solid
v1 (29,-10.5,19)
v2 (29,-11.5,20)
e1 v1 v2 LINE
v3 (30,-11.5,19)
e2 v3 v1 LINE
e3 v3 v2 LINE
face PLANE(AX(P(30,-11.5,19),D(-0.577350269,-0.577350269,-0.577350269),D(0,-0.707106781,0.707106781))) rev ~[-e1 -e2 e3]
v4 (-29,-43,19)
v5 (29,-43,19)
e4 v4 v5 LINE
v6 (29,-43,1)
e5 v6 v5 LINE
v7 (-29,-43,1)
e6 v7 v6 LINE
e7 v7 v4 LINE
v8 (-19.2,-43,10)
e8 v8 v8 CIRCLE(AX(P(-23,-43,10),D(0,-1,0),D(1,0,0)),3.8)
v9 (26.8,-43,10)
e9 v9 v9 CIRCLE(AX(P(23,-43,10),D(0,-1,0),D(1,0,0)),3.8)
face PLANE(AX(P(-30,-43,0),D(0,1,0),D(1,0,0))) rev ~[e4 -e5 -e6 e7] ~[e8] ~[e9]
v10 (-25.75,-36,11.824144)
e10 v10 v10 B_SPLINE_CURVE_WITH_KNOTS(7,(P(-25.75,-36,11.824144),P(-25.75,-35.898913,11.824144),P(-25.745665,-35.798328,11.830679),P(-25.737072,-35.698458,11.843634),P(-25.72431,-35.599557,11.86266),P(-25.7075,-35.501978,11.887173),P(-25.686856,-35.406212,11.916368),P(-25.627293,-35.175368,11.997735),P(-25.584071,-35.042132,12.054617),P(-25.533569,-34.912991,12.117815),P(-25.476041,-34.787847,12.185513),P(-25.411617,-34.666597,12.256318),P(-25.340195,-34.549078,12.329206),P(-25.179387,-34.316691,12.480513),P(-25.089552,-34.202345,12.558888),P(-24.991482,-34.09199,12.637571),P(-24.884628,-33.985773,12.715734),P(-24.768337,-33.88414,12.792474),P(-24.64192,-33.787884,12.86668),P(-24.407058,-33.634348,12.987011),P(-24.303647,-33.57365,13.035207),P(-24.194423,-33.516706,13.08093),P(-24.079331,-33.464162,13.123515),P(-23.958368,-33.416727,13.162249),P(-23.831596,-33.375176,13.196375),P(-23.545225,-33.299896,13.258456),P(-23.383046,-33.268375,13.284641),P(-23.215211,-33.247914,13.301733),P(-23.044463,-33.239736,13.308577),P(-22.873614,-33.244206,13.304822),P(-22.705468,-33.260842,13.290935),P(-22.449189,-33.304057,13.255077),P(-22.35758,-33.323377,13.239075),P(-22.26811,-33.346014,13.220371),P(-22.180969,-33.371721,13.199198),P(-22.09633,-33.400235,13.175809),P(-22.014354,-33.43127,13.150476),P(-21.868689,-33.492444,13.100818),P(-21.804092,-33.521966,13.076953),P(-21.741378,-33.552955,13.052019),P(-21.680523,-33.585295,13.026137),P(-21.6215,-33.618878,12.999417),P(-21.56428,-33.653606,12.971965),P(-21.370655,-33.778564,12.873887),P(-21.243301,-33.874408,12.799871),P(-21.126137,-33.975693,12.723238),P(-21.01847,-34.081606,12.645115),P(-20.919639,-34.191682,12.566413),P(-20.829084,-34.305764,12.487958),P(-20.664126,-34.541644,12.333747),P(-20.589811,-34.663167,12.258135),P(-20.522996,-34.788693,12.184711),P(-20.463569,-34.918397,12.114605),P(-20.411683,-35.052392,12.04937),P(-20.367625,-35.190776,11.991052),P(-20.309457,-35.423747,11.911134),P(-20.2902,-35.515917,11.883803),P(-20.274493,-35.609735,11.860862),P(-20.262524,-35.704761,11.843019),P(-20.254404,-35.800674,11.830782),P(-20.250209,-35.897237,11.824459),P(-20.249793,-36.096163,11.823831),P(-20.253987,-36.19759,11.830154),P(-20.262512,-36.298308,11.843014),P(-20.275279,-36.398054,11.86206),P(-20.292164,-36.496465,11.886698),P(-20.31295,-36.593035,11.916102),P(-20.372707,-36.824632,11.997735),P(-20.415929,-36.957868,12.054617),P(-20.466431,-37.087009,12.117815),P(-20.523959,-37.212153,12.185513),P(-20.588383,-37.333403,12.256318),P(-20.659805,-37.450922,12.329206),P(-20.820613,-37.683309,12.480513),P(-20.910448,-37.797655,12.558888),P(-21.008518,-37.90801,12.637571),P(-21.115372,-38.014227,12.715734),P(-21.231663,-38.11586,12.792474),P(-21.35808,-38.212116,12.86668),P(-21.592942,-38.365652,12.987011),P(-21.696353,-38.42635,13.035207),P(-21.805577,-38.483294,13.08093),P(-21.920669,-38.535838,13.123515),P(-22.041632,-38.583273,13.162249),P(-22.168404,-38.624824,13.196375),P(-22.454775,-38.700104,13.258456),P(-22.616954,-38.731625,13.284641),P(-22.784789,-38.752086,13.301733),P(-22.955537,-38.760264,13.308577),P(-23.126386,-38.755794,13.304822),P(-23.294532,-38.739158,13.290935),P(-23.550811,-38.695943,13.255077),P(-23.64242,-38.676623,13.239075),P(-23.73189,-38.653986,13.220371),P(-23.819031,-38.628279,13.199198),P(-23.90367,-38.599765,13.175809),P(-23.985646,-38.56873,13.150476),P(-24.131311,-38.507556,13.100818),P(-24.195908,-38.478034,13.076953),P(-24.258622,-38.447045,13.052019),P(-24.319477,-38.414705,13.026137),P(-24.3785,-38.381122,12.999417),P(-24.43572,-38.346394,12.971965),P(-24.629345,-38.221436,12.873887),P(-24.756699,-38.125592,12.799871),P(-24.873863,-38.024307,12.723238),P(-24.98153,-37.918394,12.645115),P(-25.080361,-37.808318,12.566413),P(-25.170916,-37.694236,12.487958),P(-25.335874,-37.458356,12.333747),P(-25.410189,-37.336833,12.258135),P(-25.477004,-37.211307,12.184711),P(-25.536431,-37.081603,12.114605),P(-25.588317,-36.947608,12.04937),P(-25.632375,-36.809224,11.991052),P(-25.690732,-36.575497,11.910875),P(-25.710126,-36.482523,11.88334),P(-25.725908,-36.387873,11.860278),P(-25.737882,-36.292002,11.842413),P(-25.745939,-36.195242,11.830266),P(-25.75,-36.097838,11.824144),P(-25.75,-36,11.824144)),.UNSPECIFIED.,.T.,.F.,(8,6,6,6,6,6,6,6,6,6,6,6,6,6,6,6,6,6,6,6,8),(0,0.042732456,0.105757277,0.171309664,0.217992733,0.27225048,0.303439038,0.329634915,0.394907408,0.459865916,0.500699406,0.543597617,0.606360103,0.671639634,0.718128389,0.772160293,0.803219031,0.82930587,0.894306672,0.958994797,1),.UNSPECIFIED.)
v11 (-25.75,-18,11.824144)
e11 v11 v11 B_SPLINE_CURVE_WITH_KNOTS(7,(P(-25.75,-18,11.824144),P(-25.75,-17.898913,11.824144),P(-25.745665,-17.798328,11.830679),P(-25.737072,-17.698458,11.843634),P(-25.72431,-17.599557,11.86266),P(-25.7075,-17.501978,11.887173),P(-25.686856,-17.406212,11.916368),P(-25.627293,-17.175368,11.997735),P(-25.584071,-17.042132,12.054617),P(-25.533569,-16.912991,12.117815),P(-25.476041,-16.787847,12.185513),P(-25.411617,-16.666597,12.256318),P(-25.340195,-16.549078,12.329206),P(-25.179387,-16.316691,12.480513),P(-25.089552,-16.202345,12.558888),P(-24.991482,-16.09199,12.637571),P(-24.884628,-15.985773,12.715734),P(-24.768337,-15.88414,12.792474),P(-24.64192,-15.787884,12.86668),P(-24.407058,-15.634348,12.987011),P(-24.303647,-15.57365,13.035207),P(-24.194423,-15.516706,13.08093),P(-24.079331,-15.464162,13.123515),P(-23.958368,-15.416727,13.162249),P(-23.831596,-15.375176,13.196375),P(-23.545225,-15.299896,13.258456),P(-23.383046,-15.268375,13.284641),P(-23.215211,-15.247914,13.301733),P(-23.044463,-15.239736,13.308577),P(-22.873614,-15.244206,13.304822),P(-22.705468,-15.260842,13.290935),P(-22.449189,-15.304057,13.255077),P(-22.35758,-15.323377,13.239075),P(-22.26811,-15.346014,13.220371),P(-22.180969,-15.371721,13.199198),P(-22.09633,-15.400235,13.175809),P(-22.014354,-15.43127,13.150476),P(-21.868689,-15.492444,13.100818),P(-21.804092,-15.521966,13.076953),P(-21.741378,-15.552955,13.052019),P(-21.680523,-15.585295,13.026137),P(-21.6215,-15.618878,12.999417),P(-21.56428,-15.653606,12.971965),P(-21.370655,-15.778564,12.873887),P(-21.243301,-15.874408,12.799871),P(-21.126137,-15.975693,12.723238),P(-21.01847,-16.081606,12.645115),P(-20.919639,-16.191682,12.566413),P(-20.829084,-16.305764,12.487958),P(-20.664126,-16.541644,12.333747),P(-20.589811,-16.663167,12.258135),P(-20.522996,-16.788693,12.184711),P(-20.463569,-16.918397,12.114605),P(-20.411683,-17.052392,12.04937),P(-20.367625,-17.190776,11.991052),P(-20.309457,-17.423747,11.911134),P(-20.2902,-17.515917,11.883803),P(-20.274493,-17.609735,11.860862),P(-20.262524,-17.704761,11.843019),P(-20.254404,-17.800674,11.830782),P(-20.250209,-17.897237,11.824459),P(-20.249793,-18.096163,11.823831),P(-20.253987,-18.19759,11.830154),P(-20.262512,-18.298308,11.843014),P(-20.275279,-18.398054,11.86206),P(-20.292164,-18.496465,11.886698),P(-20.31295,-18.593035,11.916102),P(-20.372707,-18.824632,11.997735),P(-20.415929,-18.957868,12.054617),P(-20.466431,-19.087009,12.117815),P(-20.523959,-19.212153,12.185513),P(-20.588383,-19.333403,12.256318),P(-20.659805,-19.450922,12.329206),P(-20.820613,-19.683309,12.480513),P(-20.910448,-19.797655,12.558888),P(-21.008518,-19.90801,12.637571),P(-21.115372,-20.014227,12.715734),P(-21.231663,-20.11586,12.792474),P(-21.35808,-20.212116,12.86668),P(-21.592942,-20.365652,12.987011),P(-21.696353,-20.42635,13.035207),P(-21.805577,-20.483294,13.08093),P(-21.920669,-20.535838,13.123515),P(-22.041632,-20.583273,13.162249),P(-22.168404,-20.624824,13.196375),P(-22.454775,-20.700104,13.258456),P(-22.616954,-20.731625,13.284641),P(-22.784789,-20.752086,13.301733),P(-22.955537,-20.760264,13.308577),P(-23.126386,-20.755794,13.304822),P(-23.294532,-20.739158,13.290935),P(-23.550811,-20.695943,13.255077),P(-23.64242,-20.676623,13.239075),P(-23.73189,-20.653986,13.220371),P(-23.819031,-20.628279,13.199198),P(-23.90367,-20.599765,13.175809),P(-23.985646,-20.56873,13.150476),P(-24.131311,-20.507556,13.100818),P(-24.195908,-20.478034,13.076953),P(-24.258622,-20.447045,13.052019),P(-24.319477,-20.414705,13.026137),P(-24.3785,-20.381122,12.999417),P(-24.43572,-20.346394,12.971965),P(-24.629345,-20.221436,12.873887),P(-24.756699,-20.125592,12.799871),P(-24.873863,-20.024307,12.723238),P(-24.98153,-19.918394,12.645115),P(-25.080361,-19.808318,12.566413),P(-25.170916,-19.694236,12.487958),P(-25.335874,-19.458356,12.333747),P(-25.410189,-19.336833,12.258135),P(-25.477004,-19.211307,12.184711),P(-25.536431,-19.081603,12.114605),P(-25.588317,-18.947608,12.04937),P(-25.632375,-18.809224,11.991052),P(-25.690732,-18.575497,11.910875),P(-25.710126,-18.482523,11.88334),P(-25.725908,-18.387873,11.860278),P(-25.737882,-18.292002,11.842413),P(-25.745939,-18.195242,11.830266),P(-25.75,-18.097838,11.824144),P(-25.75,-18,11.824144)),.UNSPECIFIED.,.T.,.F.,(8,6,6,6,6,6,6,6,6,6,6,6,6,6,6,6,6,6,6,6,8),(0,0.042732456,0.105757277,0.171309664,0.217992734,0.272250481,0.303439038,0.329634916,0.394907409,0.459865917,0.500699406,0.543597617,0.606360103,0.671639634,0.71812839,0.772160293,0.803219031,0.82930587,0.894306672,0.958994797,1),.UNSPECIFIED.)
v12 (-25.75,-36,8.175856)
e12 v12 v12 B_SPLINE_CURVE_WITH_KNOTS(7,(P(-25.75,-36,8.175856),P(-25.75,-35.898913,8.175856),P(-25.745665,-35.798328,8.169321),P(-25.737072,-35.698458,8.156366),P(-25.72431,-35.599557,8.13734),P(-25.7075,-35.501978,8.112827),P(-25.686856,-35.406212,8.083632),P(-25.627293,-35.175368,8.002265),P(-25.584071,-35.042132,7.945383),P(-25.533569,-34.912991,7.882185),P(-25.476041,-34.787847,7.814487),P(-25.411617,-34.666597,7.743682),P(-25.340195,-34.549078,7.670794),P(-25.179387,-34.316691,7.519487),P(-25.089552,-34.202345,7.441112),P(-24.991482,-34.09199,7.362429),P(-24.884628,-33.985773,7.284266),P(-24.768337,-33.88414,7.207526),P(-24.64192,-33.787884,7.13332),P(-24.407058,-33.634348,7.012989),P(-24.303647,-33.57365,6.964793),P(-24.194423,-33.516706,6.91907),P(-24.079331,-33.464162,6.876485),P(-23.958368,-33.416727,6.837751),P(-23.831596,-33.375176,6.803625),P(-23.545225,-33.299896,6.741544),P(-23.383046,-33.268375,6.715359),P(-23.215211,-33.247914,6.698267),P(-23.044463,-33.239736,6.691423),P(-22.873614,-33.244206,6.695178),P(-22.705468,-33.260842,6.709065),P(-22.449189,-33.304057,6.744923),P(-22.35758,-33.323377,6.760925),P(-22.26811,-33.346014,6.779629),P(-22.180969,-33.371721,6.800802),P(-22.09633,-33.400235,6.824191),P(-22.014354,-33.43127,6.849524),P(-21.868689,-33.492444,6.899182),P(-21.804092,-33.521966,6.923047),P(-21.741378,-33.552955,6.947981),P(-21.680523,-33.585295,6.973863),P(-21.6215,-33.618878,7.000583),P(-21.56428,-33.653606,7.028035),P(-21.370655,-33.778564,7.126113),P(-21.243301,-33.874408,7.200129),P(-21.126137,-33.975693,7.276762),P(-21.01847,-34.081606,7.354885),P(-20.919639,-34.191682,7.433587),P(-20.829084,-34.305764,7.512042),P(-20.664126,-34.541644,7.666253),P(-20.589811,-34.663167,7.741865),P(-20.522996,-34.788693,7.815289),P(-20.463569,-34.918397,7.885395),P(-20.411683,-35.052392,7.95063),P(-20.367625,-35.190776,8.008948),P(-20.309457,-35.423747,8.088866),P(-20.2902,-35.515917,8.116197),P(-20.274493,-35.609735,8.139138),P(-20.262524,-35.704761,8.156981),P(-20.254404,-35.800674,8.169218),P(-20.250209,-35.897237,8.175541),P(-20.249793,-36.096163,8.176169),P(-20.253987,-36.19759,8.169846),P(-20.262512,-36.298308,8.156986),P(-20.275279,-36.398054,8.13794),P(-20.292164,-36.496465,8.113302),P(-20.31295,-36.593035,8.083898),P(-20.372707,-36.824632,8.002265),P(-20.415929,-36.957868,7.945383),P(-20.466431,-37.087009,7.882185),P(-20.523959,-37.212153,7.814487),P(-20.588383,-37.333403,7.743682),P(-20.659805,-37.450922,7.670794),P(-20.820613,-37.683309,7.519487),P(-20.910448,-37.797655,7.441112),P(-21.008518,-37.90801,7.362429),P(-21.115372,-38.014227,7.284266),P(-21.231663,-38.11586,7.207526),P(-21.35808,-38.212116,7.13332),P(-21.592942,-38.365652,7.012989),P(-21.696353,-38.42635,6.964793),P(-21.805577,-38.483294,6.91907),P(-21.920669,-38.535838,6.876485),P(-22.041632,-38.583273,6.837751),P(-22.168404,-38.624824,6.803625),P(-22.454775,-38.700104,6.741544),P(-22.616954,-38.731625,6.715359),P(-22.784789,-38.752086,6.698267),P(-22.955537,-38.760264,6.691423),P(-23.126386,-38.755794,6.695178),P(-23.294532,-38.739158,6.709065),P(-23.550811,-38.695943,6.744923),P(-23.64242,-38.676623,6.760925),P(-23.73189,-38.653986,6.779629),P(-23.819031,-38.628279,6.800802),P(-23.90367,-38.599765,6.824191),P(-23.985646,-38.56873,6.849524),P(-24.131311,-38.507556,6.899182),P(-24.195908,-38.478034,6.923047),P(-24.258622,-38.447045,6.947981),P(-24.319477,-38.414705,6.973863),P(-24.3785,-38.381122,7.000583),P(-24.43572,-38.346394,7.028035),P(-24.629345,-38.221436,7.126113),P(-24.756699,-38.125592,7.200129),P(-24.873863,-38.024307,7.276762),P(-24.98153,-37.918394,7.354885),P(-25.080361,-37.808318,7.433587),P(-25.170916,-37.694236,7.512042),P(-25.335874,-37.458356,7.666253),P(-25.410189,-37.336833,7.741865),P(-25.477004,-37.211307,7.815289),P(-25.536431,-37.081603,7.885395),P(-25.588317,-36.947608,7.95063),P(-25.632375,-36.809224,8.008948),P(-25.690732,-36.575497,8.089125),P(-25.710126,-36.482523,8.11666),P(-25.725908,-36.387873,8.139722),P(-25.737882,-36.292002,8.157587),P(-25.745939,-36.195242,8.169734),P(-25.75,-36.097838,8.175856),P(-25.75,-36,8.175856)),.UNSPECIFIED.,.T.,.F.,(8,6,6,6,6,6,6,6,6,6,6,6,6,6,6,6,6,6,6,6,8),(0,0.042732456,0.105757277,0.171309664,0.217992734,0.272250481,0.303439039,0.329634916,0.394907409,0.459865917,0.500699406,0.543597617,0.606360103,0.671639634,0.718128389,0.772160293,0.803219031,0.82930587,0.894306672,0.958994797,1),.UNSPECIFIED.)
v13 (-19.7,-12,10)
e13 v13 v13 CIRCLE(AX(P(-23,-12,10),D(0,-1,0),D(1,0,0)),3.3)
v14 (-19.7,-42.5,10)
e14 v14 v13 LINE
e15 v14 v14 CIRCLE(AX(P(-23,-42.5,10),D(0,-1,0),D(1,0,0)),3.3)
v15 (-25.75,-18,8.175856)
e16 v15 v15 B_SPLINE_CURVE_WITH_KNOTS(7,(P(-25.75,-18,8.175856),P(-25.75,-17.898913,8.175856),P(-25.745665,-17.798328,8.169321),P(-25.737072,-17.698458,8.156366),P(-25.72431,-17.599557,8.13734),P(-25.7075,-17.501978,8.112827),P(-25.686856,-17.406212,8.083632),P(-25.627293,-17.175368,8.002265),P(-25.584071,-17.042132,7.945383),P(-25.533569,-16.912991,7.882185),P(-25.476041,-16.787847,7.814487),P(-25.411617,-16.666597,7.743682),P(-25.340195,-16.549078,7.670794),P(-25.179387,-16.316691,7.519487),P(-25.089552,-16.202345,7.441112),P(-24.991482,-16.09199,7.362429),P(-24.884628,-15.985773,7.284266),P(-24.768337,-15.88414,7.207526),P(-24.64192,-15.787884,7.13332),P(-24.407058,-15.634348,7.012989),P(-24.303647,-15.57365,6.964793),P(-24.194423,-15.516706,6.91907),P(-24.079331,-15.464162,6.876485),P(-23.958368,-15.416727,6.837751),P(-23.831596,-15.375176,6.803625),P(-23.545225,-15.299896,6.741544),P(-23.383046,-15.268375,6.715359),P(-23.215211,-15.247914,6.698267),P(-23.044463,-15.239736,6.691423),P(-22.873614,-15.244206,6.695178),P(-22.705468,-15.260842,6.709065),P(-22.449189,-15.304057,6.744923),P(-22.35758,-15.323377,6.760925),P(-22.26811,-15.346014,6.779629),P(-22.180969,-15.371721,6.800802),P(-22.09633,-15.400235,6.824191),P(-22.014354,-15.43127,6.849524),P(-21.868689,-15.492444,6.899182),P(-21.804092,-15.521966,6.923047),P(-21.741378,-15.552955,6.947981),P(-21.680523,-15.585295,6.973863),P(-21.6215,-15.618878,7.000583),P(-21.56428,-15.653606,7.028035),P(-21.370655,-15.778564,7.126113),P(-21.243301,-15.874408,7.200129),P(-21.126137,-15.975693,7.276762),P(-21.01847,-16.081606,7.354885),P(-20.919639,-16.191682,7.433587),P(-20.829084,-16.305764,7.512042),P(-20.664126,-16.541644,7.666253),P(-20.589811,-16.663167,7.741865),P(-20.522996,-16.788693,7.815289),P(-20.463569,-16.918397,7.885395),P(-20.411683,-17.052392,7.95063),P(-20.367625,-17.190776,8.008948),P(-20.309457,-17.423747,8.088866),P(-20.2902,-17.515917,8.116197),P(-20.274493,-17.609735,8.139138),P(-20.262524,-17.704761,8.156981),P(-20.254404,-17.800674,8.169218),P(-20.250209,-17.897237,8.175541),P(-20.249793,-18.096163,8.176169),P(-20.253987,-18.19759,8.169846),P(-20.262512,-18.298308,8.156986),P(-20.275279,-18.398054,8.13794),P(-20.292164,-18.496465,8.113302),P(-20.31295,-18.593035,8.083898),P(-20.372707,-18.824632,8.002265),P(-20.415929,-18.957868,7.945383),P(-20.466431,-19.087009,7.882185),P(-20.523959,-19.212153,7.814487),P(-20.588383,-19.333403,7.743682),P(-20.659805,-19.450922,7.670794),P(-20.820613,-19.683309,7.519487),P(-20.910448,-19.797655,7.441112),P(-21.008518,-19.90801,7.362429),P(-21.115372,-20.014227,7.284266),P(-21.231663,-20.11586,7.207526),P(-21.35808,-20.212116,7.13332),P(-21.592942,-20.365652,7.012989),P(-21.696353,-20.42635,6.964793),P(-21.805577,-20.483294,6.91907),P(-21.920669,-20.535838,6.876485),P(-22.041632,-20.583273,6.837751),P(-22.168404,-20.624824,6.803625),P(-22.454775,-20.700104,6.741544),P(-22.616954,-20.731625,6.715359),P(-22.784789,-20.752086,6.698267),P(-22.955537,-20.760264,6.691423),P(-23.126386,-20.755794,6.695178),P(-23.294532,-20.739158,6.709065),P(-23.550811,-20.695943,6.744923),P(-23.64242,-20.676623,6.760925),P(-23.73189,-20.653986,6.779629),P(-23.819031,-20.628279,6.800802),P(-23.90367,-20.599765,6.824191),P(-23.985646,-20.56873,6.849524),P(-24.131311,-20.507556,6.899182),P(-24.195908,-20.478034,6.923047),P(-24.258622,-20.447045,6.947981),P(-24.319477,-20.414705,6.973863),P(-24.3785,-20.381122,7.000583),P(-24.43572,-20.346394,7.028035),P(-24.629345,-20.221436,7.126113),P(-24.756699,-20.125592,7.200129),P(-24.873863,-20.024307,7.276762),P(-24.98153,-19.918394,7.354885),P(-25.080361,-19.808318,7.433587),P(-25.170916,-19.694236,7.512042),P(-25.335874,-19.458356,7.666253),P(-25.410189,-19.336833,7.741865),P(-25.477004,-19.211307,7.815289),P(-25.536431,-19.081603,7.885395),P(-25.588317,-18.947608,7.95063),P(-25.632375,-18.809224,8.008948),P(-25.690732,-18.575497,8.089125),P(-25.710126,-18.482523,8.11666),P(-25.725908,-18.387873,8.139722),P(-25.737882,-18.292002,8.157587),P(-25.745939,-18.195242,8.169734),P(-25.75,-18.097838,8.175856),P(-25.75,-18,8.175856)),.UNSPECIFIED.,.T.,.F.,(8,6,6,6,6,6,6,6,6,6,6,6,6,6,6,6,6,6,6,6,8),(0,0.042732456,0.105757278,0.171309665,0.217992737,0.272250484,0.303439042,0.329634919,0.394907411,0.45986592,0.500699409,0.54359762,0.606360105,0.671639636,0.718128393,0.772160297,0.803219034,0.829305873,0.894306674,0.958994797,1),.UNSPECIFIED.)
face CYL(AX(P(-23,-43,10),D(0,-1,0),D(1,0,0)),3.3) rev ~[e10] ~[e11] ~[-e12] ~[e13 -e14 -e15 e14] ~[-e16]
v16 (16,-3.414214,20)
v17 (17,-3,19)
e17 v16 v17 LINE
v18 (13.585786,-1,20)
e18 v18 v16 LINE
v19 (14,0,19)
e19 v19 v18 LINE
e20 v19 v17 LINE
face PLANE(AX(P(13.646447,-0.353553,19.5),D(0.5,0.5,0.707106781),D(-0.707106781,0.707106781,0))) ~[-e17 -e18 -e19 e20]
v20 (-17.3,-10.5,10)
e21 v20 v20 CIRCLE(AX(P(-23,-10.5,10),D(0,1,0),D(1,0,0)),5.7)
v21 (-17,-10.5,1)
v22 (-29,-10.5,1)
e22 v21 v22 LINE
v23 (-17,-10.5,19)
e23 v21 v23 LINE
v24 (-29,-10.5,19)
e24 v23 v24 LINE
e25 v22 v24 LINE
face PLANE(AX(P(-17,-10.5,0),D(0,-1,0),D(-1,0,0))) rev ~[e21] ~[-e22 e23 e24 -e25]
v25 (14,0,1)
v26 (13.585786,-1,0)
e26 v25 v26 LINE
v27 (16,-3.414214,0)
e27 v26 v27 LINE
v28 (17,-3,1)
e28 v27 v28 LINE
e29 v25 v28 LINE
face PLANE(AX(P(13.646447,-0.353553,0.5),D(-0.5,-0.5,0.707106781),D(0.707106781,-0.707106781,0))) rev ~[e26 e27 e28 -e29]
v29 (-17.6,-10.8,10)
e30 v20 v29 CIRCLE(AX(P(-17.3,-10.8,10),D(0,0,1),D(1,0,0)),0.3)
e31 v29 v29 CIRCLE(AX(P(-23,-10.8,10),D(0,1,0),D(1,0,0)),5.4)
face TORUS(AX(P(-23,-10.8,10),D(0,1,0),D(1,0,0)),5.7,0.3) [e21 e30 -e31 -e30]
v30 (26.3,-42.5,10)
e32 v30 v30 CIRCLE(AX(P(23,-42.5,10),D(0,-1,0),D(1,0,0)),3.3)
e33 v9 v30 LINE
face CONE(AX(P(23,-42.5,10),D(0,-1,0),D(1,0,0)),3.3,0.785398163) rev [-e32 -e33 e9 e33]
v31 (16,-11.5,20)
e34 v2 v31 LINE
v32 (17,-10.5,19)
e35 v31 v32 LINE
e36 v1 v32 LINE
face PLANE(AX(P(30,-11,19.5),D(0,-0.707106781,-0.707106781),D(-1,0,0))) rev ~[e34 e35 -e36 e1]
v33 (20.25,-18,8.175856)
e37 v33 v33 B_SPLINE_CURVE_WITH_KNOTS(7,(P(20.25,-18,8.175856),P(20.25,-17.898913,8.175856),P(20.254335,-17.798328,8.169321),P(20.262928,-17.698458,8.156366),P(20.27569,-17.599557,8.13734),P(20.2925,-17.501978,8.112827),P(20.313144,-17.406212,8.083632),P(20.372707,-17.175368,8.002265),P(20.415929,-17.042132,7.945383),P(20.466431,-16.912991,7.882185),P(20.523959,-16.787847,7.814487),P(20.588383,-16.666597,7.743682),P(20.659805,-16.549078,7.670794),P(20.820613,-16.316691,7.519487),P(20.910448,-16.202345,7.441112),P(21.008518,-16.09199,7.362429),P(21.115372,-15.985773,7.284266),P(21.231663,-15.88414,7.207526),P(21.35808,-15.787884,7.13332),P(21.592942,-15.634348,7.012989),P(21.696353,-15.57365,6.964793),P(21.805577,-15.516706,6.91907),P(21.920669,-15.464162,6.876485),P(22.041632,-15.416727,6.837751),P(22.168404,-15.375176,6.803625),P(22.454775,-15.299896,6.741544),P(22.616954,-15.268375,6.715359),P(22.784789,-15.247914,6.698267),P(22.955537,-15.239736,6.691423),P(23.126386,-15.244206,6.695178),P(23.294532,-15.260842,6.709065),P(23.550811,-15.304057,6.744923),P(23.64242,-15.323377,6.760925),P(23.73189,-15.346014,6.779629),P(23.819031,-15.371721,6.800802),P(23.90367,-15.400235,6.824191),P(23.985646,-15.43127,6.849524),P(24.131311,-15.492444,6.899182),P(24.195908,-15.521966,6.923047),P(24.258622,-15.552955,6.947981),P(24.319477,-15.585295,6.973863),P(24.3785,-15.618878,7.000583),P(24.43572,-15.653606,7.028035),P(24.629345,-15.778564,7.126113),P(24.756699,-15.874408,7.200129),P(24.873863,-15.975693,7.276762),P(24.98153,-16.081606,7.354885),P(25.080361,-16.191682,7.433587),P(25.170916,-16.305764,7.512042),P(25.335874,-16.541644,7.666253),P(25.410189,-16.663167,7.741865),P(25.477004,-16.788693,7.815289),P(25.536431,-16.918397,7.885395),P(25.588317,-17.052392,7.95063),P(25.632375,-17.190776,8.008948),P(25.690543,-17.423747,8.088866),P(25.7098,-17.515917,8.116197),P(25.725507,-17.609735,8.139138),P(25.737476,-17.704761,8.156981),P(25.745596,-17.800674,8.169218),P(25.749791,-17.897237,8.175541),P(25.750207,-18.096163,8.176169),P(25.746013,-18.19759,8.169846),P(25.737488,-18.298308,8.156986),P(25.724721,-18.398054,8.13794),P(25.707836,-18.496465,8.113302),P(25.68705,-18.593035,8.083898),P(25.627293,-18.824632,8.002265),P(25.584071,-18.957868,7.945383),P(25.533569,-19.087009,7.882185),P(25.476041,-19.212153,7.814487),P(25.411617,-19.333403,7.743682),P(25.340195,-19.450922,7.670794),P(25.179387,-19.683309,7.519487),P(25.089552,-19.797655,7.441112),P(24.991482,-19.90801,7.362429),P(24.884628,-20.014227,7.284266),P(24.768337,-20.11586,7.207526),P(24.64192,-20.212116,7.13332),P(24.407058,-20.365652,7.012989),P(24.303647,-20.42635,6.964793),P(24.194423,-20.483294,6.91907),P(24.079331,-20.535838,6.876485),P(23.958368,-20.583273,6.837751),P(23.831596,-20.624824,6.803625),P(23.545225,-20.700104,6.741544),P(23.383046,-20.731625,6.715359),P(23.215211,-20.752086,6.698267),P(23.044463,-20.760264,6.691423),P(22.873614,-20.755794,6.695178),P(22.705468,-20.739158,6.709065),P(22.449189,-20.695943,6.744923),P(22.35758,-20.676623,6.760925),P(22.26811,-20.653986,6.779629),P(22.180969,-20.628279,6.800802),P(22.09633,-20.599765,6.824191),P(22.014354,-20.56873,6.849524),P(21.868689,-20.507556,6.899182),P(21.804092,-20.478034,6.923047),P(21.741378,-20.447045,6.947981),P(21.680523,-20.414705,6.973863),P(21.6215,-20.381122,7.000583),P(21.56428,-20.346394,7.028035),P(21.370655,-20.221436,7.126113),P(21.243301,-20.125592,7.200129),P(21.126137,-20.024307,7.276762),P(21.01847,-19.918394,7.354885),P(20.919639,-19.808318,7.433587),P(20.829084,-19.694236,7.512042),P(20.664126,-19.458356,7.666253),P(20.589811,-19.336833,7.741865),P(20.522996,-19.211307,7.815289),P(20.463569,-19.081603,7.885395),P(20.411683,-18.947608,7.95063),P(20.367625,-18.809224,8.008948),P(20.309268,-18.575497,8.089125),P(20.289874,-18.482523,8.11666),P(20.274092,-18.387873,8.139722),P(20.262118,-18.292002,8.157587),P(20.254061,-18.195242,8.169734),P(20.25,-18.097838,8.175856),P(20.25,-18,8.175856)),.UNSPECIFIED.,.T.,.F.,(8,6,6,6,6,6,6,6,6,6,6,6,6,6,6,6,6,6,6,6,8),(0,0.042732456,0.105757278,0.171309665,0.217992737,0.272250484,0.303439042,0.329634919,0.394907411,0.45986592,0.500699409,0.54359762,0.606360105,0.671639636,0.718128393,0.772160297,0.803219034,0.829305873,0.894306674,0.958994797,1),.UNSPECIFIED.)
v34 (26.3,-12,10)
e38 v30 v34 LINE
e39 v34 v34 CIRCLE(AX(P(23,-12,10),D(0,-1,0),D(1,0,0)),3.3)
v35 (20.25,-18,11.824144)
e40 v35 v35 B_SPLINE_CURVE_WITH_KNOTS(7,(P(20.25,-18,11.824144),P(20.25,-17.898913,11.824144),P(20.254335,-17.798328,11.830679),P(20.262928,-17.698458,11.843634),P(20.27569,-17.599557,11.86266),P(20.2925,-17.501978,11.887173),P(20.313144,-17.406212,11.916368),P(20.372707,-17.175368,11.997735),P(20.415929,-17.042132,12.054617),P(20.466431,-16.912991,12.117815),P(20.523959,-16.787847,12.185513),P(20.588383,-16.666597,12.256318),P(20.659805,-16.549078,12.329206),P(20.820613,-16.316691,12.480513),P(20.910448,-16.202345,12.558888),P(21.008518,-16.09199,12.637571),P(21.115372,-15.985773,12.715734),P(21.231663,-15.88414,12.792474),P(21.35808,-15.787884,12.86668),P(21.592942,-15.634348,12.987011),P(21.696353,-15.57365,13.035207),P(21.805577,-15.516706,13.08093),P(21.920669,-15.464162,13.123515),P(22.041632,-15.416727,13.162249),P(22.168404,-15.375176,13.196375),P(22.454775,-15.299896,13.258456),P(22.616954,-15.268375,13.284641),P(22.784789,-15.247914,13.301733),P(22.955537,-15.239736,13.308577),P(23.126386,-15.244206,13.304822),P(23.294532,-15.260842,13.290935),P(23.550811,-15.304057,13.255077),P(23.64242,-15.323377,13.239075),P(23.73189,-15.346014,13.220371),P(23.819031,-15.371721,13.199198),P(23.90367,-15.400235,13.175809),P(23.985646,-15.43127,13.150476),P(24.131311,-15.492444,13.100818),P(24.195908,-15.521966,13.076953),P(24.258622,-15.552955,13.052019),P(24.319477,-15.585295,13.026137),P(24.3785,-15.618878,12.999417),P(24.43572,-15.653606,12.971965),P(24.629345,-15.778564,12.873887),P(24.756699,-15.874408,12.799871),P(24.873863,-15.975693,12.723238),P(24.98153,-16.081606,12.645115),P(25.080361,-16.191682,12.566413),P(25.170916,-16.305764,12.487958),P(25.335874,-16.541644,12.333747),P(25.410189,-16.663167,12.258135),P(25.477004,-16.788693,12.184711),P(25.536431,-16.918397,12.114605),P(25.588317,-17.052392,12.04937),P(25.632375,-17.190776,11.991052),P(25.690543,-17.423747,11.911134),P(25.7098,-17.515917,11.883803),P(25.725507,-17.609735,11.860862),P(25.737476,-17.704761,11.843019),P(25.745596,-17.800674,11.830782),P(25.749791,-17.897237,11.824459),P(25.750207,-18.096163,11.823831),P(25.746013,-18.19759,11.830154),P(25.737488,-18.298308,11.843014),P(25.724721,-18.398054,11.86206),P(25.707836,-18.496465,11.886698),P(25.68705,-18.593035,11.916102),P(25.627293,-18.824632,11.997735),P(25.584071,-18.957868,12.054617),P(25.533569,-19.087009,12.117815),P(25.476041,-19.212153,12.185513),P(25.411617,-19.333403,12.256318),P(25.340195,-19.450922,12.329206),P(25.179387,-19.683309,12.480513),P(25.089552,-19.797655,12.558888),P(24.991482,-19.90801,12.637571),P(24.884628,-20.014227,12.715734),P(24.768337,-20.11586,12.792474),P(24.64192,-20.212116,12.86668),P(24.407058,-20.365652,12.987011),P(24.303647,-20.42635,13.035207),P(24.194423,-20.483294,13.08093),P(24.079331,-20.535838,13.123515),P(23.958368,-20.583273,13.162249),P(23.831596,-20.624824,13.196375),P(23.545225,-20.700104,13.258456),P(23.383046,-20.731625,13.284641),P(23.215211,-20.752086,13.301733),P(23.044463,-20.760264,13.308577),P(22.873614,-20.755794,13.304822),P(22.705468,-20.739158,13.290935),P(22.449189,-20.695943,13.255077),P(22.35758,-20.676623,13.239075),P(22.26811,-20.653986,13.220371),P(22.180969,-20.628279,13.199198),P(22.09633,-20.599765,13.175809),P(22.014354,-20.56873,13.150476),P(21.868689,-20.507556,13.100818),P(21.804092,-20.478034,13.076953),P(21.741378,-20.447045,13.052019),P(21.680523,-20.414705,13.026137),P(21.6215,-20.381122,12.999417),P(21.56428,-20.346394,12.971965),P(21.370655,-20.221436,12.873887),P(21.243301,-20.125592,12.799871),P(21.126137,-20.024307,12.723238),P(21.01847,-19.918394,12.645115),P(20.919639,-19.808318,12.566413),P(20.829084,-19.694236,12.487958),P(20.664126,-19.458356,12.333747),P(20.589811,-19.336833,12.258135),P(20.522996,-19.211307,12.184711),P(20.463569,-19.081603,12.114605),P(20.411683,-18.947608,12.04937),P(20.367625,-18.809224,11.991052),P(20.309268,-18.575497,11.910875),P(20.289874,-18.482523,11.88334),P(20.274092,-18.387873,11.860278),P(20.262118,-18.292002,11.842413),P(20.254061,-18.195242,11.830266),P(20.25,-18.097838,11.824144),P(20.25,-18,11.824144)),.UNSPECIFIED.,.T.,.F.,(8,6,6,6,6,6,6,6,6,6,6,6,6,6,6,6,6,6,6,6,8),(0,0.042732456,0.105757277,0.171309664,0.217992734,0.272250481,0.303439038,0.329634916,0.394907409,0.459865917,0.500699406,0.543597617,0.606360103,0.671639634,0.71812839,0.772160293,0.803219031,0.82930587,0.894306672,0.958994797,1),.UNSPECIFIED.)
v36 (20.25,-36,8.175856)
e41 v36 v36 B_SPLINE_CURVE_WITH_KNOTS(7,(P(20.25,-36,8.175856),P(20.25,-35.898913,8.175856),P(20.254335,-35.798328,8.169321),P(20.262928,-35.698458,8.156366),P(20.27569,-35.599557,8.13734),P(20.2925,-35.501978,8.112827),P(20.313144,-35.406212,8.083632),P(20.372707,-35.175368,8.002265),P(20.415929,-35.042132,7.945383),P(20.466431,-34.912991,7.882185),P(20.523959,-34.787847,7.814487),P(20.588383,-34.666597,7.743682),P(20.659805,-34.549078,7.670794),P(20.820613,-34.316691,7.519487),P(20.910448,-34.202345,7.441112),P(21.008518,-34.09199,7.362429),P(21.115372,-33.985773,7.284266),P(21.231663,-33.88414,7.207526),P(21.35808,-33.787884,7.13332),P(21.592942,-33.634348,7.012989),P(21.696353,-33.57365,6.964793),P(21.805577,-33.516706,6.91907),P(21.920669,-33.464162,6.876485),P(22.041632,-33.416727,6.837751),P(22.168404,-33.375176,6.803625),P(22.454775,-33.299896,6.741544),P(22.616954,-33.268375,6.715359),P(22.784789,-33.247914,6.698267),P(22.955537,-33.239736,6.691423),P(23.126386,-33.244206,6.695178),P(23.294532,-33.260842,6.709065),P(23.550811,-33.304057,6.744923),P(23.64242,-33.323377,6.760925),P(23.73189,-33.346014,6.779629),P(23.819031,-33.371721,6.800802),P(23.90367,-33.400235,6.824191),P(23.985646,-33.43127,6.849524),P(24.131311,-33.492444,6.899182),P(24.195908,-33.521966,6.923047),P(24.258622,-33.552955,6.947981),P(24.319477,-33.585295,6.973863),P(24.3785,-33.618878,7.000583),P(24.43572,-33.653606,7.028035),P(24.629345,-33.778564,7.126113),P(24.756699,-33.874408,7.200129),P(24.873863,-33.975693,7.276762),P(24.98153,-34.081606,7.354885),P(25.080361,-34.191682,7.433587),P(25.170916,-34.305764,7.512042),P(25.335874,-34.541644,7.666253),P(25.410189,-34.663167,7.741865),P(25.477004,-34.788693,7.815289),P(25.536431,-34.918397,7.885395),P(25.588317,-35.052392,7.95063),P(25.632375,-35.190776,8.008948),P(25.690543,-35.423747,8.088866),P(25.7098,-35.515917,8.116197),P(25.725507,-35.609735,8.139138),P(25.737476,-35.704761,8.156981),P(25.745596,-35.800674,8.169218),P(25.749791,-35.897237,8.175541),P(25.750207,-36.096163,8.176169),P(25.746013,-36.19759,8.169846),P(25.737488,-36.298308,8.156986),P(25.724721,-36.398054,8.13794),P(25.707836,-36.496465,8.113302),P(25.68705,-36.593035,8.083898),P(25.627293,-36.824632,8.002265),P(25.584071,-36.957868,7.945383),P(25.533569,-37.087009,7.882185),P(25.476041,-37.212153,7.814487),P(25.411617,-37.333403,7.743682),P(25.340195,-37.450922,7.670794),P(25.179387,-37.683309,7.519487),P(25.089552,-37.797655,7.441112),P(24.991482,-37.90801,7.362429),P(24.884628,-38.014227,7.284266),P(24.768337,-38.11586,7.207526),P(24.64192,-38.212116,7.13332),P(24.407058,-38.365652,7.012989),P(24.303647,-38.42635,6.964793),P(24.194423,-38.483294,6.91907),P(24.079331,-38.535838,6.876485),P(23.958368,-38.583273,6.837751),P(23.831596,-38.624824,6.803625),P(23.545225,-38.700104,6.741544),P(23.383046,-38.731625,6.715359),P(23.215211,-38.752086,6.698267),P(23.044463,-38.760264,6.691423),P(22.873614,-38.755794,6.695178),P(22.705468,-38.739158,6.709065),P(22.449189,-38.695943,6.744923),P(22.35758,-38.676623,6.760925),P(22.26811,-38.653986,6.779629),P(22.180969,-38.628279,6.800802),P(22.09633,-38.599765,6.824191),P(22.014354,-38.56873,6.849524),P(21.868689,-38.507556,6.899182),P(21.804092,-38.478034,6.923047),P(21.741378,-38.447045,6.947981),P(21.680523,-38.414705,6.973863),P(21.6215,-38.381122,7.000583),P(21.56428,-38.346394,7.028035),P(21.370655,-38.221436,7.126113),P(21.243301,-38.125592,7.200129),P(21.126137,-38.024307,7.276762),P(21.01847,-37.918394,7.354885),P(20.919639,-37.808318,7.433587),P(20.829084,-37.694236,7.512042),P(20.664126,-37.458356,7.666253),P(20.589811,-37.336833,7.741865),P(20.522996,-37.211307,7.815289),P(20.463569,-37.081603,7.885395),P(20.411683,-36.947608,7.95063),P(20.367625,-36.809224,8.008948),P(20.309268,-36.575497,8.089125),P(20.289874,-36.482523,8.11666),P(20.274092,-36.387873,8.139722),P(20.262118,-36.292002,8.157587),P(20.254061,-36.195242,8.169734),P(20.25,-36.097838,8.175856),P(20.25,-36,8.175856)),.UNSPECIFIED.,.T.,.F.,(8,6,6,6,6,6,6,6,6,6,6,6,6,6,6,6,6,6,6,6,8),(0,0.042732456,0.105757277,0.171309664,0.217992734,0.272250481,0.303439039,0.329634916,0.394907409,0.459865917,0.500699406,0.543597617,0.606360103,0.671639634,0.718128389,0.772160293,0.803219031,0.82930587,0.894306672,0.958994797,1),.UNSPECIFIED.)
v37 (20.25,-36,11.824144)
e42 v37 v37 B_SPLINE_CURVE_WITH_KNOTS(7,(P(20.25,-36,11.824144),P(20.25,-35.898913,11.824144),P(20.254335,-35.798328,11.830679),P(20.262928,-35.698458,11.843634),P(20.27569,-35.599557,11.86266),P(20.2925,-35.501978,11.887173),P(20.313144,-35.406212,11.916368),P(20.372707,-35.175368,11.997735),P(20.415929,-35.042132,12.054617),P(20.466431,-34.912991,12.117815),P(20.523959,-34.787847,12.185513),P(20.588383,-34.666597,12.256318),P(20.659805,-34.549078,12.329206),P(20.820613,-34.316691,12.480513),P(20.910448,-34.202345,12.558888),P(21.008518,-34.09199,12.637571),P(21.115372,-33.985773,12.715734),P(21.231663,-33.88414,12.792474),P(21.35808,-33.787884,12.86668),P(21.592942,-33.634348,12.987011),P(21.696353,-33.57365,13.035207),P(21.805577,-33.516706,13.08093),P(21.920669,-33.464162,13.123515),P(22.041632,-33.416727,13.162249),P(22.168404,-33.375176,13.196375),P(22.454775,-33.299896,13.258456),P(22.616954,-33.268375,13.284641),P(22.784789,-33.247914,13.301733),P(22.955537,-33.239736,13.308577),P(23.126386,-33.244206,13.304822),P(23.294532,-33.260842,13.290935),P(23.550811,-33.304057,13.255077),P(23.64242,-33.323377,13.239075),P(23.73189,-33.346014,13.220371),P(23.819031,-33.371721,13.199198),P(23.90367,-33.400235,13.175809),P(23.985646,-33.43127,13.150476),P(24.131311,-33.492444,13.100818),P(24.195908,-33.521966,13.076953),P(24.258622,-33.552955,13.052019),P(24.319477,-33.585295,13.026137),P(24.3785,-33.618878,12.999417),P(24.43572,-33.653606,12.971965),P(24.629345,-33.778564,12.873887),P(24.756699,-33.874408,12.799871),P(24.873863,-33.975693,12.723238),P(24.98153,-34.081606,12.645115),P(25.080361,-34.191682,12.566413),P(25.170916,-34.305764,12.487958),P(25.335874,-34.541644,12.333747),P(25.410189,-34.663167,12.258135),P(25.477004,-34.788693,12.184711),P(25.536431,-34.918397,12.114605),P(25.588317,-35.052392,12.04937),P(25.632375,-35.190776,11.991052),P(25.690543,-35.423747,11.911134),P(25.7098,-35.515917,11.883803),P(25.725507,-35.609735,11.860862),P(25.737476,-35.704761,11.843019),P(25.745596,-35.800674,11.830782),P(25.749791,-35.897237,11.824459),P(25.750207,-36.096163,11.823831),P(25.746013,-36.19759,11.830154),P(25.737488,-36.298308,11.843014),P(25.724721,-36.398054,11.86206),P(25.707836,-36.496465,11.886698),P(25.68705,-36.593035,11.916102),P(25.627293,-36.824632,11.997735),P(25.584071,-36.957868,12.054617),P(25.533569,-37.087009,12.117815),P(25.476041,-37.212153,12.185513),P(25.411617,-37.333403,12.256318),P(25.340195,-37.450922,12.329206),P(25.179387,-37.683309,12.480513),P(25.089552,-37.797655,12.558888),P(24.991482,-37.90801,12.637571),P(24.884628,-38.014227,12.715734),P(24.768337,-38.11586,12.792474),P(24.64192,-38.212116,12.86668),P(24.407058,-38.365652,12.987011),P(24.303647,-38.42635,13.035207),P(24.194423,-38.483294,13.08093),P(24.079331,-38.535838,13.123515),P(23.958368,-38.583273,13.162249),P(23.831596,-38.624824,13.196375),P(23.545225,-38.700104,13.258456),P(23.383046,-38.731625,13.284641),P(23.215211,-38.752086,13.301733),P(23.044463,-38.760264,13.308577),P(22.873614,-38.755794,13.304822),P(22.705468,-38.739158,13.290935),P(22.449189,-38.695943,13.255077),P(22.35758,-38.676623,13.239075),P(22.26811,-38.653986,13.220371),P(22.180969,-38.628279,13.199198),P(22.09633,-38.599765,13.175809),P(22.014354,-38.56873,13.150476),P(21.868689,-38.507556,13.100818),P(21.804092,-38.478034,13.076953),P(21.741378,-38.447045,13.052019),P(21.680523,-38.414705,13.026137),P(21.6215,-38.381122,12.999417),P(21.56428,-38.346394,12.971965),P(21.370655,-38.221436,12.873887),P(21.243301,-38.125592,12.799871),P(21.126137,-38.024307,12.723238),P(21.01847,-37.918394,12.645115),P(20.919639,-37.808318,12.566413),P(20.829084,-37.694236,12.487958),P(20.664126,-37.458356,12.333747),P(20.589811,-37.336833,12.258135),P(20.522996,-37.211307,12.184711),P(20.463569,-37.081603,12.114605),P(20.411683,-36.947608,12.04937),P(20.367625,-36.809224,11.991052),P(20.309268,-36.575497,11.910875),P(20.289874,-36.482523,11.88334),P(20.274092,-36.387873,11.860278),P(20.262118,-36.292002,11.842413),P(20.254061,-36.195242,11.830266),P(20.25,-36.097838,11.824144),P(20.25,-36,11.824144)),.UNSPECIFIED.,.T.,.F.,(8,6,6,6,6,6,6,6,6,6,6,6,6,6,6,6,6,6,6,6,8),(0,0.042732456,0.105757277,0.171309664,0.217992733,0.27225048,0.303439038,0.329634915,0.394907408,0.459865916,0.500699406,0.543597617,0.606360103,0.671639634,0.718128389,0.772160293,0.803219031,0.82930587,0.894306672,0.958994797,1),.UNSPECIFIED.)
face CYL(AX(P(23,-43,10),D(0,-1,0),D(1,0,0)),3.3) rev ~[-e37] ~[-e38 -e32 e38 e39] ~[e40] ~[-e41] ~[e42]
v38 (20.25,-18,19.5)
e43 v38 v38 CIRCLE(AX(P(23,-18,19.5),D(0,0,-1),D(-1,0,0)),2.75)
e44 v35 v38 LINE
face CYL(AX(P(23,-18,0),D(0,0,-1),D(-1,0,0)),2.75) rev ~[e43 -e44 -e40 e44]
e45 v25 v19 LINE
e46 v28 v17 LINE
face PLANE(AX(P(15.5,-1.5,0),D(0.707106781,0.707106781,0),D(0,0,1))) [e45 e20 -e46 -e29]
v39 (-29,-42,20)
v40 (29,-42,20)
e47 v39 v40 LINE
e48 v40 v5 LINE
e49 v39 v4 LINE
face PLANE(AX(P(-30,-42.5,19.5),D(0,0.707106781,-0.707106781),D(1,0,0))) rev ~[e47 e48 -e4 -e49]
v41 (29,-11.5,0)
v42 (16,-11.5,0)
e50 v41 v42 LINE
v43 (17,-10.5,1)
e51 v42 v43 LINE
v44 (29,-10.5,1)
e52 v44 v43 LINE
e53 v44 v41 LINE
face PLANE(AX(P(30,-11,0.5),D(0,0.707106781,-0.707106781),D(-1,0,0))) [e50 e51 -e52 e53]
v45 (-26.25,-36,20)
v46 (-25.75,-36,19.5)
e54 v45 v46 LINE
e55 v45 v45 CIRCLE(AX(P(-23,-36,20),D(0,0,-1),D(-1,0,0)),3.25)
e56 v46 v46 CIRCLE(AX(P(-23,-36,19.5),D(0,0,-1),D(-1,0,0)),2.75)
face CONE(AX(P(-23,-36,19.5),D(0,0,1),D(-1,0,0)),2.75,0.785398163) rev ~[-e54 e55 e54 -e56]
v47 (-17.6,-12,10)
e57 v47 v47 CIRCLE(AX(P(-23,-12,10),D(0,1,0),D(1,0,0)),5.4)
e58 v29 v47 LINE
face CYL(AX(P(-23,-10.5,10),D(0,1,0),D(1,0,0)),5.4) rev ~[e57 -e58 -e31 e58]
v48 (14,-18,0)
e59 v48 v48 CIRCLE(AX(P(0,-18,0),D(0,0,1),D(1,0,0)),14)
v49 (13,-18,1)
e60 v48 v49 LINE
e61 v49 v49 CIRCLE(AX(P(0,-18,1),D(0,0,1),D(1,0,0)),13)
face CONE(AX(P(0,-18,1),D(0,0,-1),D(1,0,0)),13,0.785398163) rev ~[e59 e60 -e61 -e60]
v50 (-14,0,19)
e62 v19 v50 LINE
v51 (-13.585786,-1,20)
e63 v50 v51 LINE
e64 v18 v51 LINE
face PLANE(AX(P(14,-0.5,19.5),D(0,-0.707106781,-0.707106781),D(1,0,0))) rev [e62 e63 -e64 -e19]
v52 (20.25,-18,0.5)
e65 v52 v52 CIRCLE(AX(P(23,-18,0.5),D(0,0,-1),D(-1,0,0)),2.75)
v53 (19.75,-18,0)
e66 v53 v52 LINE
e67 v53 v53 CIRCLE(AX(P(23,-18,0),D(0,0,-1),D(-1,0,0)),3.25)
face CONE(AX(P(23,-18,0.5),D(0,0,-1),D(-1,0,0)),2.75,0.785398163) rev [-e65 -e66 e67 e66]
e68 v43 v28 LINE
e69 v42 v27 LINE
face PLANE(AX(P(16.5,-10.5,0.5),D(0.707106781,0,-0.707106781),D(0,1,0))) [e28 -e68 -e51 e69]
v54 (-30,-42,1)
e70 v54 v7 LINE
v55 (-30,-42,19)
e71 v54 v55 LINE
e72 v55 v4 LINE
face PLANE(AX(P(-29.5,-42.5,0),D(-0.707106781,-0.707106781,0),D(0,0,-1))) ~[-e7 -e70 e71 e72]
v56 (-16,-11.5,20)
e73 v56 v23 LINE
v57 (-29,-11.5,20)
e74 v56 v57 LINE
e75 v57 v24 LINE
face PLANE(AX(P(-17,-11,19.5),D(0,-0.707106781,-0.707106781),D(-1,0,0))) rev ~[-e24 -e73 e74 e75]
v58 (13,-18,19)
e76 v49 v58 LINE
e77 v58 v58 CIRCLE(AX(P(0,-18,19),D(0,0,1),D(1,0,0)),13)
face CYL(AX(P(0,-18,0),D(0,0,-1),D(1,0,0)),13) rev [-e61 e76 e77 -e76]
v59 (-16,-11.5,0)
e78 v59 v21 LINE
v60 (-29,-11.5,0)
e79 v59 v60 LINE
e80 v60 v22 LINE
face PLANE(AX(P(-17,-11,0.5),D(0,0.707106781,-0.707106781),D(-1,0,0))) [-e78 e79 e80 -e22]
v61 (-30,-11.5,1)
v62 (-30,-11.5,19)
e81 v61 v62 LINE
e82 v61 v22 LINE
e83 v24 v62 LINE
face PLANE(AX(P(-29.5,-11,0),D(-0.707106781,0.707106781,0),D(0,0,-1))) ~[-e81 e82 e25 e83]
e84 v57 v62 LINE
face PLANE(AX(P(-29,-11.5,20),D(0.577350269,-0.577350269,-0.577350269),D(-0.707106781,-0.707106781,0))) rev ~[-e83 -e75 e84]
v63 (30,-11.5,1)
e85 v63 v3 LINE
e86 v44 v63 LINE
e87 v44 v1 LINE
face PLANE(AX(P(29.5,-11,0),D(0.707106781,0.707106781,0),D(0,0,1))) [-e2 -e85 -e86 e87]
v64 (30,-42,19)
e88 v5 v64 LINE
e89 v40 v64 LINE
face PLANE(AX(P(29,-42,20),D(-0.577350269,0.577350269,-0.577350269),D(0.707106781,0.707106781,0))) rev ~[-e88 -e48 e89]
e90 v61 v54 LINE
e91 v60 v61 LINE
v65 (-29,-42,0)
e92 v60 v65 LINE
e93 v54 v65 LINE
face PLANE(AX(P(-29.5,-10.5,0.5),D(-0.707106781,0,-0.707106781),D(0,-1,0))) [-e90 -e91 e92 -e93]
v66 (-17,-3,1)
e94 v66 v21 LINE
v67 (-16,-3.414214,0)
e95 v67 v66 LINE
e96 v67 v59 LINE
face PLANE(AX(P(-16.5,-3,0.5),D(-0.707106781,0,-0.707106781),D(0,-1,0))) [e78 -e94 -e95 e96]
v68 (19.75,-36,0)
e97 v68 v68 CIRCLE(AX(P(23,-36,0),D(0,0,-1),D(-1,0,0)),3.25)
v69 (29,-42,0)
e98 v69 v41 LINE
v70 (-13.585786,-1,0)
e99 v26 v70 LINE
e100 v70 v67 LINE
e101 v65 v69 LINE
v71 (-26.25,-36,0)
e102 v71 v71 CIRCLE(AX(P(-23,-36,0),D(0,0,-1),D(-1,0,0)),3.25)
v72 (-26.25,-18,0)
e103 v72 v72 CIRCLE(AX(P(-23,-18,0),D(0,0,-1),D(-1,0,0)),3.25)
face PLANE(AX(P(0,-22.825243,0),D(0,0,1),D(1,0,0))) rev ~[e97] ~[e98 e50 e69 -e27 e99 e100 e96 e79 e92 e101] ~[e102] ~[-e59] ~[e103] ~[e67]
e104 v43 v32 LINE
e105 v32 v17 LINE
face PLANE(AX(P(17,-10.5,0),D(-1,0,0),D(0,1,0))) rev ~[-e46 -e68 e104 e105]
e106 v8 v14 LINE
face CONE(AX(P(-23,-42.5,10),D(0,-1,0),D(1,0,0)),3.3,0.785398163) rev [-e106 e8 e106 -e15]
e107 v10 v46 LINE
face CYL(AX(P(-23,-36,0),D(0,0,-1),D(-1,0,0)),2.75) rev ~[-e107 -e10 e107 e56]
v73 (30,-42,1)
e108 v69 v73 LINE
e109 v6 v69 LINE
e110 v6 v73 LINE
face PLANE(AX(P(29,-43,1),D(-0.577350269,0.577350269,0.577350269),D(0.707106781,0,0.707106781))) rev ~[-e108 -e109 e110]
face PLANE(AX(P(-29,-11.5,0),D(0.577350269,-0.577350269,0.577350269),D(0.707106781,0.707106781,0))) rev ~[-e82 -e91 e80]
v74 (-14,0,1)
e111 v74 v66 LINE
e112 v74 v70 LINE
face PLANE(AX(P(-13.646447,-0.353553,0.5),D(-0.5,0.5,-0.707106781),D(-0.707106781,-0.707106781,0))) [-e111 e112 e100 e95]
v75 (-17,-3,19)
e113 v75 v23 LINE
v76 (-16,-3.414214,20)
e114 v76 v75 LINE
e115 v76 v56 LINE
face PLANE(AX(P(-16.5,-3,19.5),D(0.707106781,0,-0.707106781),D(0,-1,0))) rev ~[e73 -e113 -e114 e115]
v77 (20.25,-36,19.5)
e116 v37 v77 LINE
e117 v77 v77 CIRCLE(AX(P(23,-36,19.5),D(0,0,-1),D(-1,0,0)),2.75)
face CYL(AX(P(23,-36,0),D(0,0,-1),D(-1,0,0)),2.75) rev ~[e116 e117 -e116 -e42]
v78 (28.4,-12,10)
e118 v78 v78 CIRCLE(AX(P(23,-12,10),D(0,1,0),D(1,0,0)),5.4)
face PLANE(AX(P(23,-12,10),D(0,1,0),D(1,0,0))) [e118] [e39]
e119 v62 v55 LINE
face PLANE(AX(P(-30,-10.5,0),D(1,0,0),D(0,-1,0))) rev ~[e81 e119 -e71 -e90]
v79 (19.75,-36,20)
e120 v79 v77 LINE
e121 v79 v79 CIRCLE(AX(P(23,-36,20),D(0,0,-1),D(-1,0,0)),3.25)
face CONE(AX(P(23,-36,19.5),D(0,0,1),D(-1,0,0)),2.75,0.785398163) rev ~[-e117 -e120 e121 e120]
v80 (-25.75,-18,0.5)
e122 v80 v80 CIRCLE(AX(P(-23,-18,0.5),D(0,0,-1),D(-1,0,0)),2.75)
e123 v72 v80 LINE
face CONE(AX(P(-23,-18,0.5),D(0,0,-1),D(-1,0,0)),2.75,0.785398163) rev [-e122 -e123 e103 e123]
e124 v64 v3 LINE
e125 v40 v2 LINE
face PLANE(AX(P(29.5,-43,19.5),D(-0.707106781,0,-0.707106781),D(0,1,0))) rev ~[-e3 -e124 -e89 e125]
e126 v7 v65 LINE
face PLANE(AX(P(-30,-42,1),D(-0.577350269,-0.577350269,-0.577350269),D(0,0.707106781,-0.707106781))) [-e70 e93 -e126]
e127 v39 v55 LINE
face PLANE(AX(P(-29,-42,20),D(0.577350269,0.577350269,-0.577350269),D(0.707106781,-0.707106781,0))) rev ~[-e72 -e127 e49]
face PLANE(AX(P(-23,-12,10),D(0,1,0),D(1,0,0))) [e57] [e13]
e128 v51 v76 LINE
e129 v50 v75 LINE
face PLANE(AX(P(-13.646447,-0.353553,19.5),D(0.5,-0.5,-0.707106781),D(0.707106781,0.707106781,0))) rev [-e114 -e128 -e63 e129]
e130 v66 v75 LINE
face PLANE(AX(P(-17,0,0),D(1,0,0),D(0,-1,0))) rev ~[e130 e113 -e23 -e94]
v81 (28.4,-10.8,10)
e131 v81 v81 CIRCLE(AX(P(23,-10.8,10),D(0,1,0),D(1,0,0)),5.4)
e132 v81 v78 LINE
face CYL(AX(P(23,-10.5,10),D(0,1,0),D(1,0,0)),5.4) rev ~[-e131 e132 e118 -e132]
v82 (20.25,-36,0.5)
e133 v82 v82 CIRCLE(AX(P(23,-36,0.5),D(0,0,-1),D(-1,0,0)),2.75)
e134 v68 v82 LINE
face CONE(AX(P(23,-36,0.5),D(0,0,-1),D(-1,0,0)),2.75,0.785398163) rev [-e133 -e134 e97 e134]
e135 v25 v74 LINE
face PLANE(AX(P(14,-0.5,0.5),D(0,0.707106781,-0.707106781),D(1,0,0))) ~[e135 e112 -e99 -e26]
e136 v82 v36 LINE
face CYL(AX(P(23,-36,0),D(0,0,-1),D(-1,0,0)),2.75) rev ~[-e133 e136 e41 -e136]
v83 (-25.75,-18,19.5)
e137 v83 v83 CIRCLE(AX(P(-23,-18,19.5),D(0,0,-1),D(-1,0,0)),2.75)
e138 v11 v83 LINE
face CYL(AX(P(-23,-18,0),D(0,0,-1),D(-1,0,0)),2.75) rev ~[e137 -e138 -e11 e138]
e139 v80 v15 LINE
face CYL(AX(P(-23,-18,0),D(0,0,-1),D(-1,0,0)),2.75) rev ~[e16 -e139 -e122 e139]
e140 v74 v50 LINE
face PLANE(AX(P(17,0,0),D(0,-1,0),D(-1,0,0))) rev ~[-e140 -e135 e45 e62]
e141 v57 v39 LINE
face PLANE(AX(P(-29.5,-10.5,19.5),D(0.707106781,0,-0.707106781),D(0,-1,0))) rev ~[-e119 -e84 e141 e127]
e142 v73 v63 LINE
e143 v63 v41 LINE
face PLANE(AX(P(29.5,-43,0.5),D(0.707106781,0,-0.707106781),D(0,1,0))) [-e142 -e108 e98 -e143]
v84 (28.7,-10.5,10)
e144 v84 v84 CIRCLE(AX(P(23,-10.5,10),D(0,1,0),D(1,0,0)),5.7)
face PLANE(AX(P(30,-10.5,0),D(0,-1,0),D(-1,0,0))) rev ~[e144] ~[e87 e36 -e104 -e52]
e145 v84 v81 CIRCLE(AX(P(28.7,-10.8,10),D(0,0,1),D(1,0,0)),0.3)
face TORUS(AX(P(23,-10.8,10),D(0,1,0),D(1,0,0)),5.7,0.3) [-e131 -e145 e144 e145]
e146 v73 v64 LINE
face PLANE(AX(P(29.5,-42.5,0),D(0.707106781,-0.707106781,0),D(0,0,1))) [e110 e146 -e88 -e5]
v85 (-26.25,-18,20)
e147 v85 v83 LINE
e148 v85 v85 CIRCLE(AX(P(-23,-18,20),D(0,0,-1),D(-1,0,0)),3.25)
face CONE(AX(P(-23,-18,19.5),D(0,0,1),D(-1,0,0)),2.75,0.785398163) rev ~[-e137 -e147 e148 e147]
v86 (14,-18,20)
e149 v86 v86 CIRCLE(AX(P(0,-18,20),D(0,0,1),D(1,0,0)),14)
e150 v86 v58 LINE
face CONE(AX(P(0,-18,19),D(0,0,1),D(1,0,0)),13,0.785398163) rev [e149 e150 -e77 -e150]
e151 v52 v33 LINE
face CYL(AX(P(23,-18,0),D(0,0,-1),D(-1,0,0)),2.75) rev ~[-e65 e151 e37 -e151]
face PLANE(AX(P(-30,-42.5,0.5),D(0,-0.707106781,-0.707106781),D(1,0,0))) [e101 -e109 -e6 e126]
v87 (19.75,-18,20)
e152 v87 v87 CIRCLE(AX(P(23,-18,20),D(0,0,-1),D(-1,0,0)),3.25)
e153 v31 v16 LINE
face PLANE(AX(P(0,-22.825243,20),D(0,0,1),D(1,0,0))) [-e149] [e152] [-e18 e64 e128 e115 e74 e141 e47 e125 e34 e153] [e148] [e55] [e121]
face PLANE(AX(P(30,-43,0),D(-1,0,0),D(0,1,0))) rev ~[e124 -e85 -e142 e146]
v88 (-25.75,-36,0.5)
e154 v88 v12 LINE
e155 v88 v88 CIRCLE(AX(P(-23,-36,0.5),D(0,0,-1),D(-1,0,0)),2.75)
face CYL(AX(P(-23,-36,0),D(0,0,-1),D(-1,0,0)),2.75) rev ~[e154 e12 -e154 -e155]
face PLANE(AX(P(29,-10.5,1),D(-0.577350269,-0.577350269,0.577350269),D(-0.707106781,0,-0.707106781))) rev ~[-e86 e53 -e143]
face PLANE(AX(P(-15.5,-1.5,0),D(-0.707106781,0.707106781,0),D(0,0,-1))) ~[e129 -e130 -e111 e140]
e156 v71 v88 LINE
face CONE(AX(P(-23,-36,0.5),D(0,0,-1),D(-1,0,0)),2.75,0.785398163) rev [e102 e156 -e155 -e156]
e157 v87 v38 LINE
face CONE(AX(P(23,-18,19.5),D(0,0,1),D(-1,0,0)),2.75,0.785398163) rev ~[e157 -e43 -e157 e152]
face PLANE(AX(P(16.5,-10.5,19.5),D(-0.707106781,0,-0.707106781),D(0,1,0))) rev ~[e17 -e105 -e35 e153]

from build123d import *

# Parameters (mm, degrees)
SKETCH1_R           = 13
BOSS_EXTRUDE1_DEPTH = 20
CHAMFER1_SIZE       = 3
CHAMFER2_SIZE       = 1
SKETCH2_R           = 2.75
CUT_EXTRUDE1_DEPTH  = 21
CUT_EXTRUDE2_REACH  = 45
SKETCH3_R           = 3.3
SKETCH4_R           = 5.4
CUT_EXTRUDE3_DEPTH  = 1.5
CHAMFER3_SIZE       = 0.5
FILLET1_R           = 0.3


with BuildPart() as part:
    # Sketch1 → Boss-Extrude1 (new body)
    with BuildSketch(Plane.XY):
        Polygon((17, 0), (-17, 0), (-17, -10.5), (-30, -10.5), (-30, -43), (30, -43), (30, -10.5), (17, -10.5), align=None)
        with Locations((0, -18)):
            Circle(SKETCH1_R, mode=Mode.SUBTRACT)
    extrude(amount=BOSS_EXTRUDE1_DEPTH)

    # Chamfer1
    chamfer1_edges = [part.edges().sort_by_distance(p)[0] for p in [
        (-17, 0, 10),
        (17, 0, 10),
    ]]
    chamfer(chamfer1_edges, length=CHAMFER1_SIZE)

    # Chamfer2
    chamfer2_edges = [part.edges().sort_by_distance(p)[0] for p in [
        (23.5, -10.5, 20),
        (30, -26.75, 0),
        (0, -43, 0),
        (17, -6.75, 20),
        (-30, -43, 10),
        (-30, -10.5, 10),
        (30, -10.5, 10),
        (30, -43, 10),
        (-13, -18, 0),
        (-13, -18, 20),
        (-23.5, -10.5, 20),
        (-30, -26.75, 20),
        (0, 0, 0),
        (0, 0, 20),
        (-17, -6.75, 0),
        (-15.5, -1.5, 0),
        (15.5, -1.5, 0),
        (-17, -6.75, 20),
        (-15.5, -1.5, 20),
        (15.5, -1.5, 20),
        (0, -43, 20),
        (30, -26.75, 20),
        (-30, -26.75, 0),
        (-23.5, -10.5, 0),
        (17, -6.75, 0),
        (23.5, -10.5, 0),
    ]]
    chamfer(chamfer2_edges, length=CHAMFER2_SIZE)

    # Sketch2 → Cut-Extrude1 (cut, through all)
    with BuildSketch(Plane(origin=(0, 0, 0), x_dir=(-1, 0, 0), z_dir=(0, 0, -1))):
        with Locations((-23, -18)):
            Circle(SKETCH2_R)
        with Locations((23, -18)):
            Circle(SKETCH2_R)
        with Locations((23, -36)):
            Circle(SKETCH2_R)
        with Locations((-23, -36)):
            Circle(SKETCH2_R)
    extrude(amount=-CUT_EXTRUDE1_DEPTH, mode=Mode.SUBTRACT)

    # Sketch3 → Cut-Extrude2 (cut, up to next)
    with BuildSketch(Plane.XZ.offset(43), mode=Mode.PRIVATE) as cut_extrude2_sk1:
        with Locations((23, 10)):
            Circle(SKETCH3_R)
    cut_extrude2_tool1 = extrude(cut_extrude2_sk1.sketch, amount=-CUT_EXTRUDE2_REACH, mode=Mode.PRIVATE) & part.part
    add(cut_extrude2_tool1.solids().sort_by_distance((23, -43, 10))[0], mode=Mode.SUBTRACT)
    # Sketch3 → Cut-Extrude2 (cut, up to next)
    with BuildSketch(Plane.XZ.offset(43), mode=Mode.PRIVATE) as cut_extrude2_sk2:
        with Locations((-23, 10)):
            Circle(SKETCH3_R)
    cut_extrude2_tool2 = extrude(cut_extrude2_sk2.sketch, amount=-CUT_EXTRUDE2_REACH, mode=Mode.PRIVATE) & part.part
    add(cut_extrude2_tool2.solids().sort_by_distance((-23, -43, 10))[0], mode=Mode.SUBTRACT)

    # Sketch4 → Cut-Extrude3 (cut)
    with BuildSketch(Plane(origin=(0, -10.5, 0), x_dir=(1, 0, 0), z_dir=(0, 1, 0))):
        with Locations((23, -10)):
            Circle(SKETCH4_R)
        with Locations((-23, -10)):
            Circle(SKETCH4_R)
    extrude(amount=-CUT_EXTRUDE3_DEPTH, mode=Mode.SUBTRACT)

    # Chamfer3
    chamfer3_edges = [part.edges().sort_by_distance(p)[0] for p in [
        (25.75, -18, 20),
        (25.75, -18, 0),
        (-20.25, -18, 20),
        (-20.25, -18, 0),
        (-20.25, -36, 20),
        (-20.25, -36, 0),
        (25.75, -36, 20),
        (25.75, -36, 0),
        (19.7, -43, 10),
        (-26.3, -43, 10),
    ]]
    chamfer(chamfer3_edges, length=CHAMFER3_SIZE)

    # Fillet1
    fillet1_edges = [part.edges().sort_by_distance(p)[0] for p in [
        (17.6, -10.5, 10),
        (-28.4, -10.5, 10),
    ]]
    fillet(fillet1_edges, radius=FILLET1_R)


solid = part.part
